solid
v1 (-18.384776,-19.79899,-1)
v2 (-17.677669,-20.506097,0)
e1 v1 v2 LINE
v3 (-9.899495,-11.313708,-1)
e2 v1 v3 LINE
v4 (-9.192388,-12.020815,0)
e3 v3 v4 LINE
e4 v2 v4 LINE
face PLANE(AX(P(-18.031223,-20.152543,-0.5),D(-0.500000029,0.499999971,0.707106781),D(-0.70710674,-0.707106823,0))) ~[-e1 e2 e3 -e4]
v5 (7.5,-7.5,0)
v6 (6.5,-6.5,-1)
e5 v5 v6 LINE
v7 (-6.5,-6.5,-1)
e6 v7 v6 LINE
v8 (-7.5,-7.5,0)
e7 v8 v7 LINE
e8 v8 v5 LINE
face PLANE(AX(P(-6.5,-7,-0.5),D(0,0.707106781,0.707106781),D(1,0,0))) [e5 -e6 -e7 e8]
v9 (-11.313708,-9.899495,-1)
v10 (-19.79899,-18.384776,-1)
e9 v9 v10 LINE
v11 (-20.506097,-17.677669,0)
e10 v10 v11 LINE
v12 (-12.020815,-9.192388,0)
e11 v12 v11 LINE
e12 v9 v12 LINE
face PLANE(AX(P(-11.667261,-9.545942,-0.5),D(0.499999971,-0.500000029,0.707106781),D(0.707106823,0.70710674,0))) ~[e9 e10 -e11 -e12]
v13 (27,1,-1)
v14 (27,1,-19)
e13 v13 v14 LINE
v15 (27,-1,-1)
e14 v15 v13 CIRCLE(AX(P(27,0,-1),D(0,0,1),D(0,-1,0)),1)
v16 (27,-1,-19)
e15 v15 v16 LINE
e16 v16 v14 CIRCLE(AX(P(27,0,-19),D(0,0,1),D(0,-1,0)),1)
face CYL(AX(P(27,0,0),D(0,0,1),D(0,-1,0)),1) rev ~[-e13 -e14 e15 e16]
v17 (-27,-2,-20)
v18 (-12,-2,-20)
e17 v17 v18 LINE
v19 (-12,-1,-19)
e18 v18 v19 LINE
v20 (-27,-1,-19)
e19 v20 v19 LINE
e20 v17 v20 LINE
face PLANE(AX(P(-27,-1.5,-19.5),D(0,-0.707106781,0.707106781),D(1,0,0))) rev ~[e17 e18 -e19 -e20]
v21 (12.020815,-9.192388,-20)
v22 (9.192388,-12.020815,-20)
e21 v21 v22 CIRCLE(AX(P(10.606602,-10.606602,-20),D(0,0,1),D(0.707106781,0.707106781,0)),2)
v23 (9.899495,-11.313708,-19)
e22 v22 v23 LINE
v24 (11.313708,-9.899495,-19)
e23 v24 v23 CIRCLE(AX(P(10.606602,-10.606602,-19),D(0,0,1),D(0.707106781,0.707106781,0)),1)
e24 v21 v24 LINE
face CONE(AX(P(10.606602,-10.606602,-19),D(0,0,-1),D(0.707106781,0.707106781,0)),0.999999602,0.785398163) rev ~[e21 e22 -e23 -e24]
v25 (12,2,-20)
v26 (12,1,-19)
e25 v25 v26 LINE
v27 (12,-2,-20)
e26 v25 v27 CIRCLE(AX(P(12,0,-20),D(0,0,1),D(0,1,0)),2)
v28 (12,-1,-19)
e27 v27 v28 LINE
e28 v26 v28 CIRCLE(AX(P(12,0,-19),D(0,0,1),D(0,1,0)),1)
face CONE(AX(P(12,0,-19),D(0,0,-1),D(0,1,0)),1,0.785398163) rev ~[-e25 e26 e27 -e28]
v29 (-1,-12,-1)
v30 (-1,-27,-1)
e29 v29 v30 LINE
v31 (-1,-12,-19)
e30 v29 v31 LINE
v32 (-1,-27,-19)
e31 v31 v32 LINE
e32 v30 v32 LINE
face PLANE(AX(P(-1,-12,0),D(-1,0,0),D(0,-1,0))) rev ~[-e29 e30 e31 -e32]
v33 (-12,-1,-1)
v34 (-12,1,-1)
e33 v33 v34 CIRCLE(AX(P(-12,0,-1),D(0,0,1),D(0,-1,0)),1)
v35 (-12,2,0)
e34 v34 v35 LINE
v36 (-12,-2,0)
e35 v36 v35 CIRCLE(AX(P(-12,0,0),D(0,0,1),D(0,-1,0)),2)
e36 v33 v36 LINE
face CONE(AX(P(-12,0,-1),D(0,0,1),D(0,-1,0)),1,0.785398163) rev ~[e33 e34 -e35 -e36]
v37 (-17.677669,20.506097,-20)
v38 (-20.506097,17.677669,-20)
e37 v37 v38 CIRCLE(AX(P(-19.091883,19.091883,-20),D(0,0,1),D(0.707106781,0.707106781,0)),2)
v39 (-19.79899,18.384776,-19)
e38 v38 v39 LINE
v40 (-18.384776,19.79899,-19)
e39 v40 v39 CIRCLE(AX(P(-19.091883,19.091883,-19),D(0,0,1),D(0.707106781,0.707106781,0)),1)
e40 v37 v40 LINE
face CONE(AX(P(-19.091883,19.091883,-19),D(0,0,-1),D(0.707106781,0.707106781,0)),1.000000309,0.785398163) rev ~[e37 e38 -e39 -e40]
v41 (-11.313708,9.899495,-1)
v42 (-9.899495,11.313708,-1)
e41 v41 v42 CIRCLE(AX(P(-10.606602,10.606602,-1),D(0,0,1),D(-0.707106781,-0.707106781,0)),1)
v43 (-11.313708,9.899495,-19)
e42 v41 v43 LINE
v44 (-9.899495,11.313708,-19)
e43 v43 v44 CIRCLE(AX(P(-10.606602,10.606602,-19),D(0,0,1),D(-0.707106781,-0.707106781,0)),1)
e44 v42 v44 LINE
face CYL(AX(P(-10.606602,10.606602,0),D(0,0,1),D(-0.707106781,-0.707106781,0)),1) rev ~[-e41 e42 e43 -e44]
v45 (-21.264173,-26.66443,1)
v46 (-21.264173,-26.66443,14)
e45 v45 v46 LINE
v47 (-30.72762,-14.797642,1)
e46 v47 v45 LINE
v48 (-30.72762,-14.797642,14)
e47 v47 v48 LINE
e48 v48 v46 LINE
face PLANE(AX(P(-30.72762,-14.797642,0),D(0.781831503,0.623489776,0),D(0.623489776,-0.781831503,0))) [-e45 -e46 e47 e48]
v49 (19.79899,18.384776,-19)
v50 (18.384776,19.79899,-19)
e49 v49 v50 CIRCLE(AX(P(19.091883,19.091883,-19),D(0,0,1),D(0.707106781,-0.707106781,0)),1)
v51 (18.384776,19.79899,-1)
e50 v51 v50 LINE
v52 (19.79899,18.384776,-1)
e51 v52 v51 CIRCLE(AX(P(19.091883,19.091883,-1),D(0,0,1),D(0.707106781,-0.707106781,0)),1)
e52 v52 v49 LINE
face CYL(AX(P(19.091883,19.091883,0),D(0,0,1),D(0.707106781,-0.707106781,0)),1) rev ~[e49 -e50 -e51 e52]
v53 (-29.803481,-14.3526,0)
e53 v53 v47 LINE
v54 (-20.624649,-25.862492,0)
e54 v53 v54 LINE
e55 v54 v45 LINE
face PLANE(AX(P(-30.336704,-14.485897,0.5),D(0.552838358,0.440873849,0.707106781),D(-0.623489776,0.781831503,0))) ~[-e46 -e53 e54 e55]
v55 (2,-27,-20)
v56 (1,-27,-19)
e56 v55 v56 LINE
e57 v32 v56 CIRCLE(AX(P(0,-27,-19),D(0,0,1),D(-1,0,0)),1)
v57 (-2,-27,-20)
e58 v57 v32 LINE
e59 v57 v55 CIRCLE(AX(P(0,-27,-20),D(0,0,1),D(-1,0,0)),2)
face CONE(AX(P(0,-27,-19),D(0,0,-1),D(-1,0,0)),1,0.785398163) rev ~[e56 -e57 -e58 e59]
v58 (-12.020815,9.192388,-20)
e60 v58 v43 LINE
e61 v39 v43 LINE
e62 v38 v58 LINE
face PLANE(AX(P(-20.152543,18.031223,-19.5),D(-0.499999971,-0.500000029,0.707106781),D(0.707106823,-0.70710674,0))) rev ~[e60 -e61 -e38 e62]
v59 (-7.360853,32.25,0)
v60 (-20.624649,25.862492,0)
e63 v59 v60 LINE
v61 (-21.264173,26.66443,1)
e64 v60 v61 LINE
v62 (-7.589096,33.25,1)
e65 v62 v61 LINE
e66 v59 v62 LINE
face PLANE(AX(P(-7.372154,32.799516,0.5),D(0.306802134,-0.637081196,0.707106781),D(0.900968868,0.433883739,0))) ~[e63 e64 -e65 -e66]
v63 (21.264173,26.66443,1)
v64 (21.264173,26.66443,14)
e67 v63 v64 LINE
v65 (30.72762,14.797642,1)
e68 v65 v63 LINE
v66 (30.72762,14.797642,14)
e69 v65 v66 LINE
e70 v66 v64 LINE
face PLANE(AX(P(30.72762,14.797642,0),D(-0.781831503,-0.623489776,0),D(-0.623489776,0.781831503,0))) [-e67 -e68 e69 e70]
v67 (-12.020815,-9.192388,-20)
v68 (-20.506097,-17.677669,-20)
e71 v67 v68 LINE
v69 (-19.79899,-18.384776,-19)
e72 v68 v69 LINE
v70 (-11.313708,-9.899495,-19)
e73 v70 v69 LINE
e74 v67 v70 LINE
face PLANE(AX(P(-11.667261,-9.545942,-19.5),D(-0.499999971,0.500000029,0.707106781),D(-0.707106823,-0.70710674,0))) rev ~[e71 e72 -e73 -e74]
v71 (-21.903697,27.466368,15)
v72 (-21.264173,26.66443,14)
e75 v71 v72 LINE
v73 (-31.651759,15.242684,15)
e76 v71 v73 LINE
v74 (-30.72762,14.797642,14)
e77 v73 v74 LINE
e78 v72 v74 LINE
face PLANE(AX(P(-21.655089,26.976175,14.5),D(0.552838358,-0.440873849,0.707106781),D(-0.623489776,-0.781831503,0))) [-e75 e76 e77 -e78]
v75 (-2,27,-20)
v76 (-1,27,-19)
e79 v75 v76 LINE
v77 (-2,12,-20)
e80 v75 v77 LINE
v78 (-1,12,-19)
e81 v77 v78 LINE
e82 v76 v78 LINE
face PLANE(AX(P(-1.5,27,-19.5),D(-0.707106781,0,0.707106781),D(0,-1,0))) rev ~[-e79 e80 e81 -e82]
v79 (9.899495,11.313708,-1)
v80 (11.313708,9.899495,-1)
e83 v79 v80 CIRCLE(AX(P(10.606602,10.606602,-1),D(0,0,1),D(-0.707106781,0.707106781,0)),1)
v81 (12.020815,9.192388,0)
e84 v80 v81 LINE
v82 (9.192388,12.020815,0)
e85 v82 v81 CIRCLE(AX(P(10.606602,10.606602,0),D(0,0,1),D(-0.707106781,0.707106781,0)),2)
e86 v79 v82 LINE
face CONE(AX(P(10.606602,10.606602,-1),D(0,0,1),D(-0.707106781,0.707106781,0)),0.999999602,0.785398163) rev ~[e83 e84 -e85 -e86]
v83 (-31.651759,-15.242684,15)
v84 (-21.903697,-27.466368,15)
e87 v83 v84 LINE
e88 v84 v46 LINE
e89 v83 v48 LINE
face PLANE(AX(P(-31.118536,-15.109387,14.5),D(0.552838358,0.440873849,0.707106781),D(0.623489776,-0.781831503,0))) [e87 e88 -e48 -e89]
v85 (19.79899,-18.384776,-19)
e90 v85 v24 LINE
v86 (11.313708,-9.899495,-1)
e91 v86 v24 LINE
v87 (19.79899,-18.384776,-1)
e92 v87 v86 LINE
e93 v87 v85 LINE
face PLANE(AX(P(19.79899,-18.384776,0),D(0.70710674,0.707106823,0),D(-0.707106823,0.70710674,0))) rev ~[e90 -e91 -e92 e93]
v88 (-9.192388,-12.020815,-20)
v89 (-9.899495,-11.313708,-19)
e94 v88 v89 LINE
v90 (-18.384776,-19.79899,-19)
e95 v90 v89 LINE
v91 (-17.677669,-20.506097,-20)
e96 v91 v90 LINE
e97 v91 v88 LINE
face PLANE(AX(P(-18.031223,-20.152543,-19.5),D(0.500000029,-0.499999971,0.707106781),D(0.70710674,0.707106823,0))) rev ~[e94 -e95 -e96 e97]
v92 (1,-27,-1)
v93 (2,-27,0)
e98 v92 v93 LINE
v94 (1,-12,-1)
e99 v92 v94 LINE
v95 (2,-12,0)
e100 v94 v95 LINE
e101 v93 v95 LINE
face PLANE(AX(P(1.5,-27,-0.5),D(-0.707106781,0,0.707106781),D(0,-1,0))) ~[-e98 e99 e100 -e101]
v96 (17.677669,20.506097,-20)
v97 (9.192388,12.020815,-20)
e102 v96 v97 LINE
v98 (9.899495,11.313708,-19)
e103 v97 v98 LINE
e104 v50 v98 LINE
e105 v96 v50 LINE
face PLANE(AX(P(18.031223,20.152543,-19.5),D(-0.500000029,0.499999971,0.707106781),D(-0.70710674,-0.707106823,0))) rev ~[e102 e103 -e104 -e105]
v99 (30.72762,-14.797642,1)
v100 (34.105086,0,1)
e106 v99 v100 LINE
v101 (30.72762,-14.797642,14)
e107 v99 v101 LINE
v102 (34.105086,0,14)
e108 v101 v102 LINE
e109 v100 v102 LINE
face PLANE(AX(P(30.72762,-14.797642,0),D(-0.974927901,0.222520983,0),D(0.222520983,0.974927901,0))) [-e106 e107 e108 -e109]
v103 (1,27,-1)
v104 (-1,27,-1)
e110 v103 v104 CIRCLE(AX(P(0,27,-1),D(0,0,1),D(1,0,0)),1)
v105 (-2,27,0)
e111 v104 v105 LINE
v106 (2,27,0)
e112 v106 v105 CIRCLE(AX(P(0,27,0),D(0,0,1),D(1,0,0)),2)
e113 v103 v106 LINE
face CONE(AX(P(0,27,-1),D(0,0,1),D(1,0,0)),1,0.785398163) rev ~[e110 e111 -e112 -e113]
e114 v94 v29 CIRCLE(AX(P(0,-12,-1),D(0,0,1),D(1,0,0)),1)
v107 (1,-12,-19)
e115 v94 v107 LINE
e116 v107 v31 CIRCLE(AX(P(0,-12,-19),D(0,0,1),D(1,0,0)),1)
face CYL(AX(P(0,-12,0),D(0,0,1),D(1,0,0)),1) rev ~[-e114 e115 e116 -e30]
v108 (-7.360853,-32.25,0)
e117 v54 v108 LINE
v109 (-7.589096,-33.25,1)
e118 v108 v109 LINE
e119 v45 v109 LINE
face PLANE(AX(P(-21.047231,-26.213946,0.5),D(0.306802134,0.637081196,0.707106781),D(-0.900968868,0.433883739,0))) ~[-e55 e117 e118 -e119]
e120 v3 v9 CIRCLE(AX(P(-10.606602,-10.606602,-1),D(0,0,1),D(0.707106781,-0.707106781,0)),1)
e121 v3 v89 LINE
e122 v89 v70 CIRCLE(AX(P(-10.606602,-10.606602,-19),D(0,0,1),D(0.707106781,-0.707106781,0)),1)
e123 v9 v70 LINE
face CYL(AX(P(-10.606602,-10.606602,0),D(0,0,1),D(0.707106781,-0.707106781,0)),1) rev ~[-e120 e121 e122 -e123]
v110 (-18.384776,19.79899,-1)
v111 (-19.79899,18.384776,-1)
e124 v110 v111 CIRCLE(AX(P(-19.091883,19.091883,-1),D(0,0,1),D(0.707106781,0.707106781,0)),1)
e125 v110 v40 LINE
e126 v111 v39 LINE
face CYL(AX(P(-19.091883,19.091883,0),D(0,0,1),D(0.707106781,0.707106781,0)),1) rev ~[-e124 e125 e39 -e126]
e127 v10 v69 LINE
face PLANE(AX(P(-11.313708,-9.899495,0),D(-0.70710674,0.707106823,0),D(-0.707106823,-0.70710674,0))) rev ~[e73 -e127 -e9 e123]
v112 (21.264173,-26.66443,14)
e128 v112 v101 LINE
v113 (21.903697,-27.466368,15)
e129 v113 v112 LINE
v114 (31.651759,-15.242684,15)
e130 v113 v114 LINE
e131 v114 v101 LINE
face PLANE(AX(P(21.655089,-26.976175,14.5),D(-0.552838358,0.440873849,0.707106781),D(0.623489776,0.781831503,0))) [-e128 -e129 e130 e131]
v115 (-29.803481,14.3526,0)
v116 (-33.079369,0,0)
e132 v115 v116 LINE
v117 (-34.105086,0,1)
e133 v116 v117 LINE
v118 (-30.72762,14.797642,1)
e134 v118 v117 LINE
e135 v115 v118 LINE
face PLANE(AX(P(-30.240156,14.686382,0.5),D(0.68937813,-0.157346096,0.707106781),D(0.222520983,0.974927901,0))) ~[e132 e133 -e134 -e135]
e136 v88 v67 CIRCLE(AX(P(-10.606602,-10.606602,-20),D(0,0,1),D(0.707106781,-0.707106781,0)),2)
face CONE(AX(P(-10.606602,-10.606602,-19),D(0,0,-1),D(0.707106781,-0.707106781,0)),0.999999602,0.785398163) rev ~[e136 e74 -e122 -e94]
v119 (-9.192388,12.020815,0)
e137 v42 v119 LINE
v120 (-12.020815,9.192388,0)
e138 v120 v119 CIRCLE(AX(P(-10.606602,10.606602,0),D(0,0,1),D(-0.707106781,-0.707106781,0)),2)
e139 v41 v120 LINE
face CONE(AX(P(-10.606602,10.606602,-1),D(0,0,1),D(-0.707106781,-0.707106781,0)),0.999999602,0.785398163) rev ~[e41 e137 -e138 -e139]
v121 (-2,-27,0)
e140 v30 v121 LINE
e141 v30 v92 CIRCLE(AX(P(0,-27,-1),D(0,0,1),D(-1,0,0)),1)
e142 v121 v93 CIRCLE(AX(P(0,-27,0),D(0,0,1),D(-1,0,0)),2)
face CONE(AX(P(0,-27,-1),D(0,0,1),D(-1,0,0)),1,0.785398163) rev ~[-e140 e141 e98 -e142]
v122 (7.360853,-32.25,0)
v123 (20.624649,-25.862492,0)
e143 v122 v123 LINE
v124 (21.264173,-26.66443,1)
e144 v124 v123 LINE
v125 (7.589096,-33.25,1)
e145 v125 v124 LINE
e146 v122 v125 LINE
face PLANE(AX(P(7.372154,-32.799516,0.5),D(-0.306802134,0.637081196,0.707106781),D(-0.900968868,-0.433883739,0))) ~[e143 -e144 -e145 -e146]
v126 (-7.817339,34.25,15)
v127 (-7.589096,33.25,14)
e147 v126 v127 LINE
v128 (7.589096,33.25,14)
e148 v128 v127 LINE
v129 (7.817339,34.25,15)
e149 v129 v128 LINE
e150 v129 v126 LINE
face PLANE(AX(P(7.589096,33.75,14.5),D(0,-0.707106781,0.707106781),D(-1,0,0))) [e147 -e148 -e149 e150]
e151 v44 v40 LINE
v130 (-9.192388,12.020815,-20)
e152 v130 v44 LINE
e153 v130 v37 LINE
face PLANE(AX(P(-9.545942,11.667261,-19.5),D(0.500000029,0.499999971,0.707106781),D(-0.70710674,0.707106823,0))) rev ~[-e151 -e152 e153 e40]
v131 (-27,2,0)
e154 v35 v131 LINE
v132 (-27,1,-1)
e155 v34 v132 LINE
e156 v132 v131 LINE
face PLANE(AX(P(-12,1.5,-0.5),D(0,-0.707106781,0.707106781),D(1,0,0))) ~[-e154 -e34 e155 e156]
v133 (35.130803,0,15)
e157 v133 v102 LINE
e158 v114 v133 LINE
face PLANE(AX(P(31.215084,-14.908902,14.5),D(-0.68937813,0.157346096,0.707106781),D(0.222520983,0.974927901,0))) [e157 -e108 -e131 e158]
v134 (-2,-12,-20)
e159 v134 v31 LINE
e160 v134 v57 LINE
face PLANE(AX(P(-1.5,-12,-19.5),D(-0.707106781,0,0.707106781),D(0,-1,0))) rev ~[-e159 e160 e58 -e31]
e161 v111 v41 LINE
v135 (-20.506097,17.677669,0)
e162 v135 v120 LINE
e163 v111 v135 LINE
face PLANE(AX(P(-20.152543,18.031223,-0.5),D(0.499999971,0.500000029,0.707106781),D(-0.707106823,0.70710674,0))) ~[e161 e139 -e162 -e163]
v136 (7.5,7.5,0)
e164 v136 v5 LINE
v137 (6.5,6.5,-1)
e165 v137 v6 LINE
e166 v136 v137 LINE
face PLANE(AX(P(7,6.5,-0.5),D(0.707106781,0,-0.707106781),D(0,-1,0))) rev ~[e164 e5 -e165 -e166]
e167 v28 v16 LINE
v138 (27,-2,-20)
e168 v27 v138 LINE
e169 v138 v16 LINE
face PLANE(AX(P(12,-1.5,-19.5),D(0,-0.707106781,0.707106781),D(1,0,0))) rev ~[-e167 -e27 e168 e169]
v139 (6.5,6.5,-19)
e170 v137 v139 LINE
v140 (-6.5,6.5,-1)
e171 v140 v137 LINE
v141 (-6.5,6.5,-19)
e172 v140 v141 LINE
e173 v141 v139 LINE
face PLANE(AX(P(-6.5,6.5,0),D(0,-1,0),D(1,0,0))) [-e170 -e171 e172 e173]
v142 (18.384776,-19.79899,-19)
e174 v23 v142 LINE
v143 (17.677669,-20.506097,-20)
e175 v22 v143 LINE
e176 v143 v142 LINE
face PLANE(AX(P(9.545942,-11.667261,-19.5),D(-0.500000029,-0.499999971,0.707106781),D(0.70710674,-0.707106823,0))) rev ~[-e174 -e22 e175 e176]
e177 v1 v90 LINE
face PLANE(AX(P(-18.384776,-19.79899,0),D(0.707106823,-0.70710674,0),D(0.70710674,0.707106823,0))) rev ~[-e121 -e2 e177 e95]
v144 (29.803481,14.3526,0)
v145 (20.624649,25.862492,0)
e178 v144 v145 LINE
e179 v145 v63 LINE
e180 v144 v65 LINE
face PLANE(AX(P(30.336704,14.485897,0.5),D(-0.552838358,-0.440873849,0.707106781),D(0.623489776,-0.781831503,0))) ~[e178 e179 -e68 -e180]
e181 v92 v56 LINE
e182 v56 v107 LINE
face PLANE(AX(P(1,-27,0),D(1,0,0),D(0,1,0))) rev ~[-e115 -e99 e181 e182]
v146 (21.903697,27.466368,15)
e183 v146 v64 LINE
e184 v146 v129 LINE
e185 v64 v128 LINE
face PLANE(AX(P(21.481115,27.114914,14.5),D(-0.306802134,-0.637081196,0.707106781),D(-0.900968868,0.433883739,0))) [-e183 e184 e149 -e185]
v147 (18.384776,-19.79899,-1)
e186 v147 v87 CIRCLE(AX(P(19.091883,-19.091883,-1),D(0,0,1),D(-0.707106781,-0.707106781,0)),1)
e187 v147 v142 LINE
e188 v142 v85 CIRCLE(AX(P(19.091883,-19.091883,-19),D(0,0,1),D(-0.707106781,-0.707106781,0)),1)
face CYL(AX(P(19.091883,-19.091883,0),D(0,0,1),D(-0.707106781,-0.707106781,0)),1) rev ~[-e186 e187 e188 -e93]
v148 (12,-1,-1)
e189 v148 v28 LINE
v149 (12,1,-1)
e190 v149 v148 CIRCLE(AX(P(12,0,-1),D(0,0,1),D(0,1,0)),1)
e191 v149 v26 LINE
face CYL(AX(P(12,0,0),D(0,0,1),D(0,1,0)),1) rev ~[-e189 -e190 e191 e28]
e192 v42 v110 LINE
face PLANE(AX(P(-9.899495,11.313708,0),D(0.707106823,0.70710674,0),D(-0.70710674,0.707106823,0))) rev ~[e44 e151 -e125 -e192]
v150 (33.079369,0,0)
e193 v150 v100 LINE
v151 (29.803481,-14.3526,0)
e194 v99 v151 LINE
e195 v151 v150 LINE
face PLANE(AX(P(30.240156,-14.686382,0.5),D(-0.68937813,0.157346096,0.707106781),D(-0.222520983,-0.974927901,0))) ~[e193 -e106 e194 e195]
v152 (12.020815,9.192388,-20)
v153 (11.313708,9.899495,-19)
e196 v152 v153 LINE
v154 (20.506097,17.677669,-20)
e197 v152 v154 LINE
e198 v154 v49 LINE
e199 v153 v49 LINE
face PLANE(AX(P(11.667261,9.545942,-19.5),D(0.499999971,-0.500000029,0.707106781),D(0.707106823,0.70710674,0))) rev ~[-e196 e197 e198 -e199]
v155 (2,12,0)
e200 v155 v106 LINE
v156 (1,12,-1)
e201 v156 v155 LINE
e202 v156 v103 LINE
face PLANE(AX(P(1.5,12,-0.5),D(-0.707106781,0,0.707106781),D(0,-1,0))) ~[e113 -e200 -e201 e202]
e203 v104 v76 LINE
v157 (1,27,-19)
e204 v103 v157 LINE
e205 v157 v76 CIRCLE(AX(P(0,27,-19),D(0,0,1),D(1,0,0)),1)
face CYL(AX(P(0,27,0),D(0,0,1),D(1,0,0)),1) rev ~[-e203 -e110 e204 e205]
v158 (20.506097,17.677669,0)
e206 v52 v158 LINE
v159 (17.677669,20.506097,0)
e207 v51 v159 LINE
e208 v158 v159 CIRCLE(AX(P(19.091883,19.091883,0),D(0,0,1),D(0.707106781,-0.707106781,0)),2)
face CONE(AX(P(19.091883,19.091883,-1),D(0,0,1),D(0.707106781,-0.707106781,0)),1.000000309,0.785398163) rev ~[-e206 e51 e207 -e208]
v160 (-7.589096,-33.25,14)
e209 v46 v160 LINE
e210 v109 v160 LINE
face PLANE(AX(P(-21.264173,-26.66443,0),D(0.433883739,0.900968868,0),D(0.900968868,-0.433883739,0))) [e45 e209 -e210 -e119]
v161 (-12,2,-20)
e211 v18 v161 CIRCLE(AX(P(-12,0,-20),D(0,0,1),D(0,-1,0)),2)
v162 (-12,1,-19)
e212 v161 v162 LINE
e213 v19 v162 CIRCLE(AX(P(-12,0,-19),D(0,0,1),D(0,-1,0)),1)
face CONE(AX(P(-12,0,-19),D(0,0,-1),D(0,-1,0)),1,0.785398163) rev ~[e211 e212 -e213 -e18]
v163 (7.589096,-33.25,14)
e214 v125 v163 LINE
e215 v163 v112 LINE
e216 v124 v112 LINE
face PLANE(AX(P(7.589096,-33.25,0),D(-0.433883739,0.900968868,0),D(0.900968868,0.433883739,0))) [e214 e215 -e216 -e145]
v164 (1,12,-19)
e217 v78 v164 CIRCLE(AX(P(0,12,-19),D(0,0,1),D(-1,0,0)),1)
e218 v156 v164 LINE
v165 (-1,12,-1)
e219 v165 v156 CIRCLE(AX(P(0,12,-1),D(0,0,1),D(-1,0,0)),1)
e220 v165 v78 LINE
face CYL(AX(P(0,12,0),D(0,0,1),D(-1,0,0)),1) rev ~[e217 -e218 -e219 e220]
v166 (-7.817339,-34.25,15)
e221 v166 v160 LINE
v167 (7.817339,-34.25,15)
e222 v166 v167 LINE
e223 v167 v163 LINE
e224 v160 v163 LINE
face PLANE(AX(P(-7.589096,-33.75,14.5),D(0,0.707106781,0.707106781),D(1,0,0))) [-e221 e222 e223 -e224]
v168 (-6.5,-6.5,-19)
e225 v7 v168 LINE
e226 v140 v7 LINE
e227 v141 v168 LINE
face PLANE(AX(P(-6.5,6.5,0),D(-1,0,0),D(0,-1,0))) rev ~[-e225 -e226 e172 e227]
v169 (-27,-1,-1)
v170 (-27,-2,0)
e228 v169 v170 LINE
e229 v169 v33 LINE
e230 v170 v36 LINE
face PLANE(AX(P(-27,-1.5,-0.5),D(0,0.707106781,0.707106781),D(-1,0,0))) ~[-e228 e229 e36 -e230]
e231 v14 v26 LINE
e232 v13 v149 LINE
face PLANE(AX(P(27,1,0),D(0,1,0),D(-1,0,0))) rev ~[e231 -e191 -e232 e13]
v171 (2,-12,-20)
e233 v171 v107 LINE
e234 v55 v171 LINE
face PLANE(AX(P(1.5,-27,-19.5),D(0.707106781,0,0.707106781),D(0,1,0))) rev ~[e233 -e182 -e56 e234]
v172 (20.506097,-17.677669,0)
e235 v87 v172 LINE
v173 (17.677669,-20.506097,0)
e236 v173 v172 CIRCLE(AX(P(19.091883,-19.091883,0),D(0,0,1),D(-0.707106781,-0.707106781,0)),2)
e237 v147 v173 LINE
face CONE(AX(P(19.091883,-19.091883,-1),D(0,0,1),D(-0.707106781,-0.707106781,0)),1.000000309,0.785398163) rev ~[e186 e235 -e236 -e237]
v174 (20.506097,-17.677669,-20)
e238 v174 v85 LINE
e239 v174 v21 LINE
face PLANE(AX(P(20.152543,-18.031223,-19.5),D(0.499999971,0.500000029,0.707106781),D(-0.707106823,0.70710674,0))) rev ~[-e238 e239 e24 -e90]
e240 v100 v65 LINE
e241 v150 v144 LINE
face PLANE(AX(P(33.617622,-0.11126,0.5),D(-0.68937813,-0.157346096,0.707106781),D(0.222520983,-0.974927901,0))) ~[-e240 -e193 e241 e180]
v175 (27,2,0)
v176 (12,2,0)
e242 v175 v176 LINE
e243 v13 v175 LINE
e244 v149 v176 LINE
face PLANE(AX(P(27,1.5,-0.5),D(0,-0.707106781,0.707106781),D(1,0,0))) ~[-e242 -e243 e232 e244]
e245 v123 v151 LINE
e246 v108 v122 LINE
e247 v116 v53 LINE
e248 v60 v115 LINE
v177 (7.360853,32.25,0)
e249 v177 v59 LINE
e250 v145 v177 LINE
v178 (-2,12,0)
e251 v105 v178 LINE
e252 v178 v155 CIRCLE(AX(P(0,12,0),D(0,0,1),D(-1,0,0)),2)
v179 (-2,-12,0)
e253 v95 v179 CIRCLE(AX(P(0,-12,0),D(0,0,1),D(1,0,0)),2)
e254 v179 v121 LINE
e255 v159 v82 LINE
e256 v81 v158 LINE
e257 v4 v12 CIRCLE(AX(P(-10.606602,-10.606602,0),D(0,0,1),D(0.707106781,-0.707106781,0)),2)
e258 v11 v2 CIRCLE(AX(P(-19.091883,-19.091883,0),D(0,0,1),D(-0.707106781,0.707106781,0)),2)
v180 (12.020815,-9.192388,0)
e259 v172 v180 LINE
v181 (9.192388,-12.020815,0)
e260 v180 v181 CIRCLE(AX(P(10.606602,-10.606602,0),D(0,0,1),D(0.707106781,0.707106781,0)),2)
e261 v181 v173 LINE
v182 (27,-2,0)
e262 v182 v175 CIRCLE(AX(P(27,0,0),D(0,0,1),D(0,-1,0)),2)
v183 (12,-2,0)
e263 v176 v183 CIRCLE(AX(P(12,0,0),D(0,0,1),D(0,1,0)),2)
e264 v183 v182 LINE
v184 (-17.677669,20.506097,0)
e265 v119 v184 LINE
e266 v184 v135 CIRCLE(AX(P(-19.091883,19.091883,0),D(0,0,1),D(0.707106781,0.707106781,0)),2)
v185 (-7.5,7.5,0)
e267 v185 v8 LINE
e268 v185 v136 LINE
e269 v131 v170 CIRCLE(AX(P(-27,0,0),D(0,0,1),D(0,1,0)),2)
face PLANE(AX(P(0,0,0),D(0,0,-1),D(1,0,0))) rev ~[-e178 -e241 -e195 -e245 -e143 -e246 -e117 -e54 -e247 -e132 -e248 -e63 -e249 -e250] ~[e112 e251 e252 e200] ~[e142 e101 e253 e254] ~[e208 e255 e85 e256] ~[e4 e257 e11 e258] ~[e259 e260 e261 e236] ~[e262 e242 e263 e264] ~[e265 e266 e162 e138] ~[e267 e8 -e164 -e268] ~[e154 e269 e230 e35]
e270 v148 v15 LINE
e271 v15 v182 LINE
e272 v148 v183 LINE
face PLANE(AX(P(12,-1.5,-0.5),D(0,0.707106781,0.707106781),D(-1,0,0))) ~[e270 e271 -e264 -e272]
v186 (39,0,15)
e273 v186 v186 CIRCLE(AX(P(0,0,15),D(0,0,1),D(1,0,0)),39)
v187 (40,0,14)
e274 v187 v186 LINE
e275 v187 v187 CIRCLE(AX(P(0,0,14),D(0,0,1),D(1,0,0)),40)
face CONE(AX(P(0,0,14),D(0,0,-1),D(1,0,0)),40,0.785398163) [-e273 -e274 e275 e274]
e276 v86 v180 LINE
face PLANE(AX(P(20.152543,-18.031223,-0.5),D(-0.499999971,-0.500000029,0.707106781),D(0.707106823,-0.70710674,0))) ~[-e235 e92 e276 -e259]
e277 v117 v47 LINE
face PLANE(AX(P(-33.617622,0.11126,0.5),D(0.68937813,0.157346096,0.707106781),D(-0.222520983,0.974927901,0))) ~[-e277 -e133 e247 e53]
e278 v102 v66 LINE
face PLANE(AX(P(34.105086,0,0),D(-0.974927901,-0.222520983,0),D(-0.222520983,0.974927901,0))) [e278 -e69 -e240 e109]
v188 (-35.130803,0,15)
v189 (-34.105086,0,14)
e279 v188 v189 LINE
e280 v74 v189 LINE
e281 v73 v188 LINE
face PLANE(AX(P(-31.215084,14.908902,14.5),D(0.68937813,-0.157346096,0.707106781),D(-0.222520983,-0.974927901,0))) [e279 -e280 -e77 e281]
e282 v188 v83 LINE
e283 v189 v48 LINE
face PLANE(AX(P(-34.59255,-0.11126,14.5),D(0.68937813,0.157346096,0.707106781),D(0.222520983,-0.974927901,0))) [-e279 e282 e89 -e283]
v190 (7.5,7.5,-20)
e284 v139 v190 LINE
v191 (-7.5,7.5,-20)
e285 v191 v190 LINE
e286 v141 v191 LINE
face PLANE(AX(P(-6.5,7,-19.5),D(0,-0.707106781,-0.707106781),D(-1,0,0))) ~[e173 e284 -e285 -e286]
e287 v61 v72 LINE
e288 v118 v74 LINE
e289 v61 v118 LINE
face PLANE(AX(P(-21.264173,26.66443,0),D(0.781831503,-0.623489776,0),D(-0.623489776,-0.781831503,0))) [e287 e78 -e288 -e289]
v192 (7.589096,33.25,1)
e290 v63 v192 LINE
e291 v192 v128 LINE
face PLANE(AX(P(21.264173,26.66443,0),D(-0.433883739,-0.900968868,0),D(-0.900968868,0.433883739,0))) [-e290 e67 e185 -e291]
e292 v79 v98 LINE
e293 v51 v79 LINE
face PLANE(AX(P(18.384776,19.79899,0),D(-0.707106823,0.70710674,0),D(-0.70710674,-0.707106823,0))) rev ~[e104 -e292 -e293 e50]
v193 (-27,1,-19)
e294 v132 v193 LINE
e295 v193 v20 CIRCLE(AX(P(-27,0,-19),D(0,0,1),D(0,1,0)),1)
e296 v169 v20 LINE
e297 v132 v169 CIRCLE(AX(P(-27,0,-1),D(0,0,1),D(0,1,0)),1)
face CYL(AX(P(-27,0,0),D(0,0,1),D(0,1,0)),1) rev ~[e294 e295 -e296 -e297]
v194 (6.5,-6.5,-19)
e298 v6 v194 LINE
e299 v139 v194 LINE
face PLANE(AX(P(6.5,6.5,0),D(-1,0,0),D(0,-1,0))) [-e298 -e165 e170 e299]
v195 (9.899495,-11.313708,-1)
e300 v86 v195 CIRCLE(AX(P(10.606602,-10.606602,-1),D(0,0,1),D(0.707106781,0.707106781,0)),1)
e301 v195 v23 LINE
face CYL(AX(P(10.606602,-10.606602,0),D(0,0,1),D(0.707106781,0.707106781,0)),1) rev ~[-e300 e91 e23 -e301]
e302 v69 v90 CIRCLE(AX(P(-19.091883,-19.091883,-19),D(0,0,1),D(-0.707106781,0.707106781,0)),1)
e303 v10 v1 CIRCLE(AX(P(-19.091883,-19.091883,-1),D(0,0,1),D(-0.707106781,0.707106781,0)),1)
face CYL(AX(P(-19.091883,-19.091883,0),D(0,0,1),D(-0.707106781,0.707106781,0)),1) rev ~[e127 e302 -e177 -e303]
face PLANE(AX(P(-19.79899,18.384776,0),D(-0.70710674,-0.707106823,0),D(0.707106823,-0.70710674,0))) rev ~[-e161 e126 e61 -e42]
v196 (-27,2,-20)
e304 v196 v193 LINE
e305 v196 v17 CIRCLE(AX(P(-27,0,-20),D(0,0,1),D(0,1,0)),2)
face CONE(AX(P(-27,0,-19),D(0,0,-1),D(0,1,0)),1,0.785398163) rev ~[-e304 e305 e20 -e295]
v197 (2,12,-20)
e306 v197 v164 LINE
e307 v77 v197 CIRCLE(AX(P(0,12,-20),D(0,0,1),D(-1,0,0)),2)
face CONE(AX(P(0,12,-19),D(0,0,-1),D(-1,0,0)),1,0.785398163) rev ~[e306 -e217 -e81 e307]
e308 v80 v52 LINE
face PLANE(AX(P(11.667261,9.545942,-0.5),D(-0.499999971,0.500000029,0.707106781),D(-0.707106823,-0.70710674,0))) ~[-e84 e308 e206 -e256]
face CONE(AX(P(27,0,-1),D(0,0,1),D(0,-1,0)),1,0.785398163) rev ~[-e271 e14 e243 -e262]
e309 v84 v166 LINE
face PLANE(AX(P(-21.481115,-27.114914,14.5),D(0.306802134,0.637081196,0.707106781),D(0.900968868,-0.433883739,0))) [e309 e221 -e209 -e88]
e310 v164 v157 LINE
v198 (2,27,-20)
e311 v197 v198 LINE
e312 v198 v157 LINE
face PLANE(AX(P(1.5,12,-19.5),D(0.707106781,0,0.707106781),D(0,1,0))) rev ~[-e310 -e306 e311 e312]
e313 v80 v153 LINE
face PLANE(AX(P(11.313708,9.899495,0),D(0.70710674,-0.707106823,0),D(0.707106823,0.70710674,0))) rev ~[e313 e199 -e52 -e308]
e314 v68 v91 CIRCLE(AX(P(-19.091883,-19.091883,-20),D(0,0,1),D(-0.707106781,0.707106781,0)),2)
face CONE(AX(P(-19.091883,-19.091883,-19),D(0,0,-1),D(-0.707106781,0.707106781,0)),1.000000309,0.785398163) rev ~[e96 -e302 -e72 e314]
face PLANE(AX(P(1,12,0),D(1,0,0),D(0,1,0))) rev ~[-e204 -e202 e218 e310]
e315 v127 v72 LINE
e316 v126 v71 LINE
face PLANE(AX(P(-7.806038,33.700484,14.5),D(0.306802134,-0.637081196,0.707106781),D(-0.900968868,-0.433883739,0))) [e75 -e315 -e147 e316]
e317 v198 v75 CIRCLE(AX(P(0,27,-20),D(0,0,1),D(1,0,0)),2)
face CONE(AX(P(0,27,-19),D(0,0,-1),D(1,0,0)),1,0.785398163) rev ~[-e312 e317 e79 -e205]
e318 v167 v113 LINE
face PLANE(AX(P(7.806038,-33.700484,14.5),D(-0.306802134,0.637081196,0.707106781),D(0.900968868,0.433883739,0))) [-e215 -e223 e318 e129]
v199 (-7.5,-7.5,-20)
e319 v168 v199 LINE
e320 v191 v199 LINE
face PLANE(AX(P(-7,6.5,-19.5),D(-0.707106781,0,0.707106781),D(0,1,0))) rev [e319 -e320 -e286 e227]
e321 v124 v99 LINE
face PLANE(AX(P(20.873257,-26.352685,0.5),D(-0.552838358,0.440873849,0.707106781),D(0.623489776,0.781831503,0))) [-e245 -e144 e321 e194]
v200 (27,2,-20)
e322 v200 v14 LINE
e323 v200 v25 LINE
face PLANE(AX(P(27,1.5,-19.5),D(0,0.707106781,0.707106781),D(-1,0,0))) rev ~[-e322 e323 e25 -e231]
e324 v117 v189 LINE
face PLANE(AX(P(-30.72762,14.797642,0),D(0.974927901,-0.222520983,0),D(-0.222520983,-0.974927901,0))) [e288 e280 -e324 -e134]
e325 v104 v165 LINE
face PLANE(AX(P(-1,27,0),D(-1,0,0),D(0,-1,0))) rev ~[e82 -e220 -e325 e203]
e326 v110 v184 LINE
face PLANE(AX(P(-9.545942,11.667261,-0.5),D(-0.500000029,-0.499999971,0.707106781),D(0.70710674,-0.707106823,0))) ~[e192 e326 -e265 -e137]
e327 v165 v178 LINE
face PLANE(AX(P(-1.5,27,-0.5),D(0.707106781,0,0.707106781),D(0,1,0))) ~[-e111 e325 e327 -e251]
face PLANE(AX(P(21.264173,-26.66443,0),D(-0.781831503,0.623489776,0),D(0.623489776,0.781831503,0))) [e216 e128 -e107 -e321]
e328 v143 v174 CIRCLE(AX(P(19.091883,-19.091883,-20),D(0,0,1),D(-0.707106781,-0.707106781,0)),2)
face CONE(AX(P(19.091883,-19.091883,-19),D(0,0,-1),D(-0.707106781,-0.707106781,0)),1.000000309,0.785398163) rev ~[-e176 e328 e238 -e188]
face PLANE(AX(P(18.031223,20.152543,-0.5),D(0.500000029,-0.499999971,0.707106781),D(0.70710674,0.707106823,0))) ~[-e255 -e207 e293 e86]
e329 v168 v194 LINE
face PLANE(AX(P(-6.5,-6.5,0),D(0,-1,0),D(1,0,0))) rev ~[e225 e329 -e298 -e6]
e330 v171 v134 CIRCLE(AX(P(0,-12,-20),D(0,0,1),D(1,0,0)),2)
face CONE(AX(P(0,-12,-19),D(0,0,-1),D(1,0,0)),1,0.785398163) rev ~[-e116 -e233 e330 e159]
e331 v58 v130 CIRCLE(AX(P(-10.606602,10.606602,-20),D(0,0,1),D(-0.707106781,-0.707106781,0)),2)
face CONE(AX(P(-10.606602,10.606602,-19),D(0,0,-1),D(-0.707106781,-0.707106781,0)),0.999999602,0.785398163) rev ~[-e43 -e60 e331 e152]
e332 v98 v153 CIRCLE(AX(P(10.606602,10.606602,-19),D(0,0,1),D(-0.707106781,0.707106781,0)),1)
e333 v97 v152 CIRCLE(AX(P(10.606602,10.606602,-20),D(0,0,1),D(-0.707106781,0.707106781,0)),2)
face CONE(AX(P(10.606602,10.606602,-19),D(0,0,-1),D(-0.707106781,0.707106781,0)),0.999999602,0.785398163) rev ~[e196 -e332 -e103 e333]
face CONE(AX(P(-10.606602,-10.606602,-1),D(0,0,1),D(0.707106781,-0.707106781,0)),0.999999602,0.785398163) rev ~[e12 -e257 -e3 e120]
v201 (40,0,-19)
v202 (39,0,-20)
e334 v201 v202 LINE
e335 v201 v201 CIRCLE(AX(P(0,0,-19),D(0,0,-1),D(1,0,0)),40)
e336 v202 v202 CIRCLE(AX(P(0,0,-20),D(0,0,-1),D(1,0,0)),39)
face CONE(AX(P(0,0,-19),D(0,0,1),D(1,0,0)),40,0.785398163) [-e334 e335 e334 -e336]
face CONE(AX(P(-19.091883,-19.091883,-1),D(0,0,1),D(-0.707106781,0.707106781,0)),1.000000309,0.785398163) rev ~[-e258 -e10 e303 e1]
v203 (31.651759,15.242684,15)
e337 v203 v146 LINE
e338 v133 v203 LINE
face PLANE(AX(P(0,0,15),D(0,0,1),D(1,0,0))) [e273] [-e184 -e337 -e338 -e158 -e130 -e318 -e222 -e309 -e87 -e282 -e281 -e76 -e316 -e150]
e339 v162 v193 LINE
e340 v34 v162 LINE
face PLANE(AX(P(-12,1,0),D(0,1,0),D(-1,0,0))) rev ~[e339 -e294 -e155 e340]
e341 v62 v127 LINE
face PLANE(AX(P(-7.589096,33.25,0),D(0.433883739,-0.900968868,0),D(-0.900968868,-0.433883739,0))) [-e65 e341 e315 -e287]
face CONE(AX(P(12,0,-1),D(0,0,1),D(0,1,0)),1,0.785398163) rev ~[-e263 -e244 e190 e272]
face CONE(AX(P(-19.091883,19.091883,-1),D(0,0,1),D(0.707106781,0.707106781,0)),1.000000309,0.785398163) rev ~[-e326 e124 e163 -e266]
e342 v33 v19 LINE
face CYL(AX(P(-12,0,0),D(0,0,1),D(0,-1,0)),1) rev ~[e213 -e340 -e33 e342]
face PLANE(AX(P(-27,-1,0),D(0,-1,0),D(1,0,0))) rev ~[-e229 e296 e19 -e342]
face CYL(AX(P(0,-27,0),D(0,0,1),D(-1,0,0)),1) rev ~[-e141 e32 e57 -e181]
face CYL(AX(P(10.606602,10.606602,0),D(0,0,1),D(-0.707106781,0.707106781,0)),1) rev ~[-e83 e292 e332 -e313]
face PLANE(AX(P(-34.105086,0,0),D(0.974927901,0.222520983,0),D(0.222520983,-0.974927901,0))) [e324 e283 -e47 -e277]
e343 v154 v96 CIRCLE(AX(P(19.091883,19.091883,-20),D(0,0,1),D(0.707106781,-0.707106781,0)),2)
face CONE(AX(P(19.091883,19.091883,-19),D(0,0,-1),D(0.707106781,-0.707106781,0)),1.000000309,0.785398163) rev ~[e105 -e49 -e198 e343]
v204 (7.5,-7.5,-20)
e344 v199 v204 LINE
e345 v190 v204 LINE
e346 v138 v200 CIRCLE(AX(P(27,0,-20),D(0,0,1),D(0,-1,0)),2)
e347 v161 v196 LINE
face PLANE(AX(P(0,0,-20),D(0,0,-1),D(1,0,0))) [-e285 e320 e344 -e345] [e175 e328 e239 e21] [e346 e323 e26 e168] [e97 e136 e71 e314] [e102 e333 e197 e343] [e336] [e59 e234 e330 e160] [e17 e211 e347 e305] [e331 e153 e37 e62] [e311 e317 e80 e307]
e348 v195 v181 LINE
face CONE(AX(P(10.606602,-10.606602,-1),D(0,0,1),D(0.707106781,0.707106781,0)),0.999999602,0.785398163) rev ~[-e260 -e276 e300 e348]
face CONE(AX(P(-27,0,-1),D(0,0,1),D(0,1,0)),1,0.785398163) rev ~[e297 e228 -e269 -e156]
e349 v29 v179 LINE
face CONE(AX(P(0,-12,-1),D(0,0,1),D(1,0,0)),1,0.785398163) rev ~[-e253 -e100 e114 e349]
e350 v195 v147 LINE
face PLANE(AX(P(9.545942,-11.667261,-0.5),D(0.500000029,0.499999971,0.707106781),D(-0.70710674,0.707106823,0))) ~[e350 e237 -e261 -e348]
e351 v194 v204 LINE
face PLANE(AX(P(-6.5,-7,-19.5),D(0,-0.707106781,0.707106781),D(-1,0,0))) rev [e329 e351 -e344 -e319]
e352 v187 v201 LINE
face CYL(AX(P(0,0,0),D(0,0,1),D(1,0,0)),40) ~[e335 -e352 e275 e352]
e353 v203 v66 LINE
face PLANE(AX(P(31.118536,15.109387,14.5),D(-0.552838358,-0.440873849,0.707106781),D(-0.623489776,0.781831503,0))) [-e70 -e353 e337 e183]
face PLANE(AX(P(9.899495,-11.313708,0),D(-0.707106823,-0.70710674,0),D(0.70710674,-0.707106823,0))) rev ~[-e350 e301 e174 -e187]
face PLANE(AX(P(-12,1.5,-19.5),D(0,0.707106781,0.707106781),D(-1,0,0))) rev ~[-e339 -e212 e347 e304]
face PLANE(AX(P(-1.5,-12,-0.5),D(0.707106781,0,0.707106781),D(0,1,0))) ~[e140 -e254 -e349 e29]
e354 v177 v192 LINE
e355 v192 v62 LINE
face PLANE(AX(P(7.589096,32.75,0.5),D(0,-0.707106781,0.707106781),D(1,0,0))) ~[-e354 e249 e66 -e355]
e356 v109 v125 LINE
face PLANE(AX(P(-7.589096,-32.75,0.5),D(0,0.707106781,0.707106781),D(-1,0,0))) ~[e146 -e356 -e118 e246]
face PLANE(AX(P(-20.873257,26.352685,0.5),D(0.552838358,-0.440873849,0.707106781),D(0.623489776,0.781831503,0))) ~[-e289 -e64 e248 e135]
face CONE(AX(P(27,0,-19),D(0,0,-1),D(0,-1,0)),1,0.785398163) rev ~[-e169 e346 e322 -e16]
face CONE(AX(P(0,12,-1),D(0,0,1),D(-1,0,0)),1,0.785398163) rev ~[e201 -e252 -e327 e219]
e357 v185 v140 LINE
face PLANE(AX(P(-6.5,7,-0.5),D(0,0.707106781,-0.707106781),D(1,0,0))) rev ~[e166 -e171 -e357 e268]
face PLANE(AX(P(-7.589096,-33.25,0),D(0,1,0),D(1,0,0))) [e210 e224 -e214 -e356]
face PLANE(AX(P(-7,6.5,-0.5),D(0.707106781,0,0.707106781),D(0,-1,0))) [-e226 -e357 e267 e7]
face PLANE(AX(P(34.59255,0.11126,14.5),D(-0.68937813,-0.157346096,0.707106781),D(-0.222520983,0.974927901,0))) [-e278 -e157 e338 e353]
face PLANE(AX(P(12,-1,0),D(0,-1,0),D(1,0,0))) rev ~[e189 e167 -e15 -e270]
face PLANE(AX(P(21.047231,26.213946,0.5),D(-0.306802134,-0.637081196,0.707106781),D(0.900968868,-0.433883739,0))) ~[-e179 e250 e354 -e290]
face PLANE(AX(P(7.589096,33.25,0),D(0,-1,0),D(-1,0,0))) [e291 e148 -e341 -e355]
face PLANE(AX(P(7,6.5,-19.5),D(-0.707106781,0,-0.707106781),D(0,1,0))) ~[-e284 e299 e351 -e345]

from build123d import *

# Parameters (mm, degrees)
SKETCH_R              = 40
PAD_DEPTH             = 15
SKETCH001_R           = 40
SKETCH001_W           = 13
SKETCH001_H           = 13
PAD001_DEPTH          = 20
CHAMFER_SIZE          = 1
POCKET_DEPTH          = 256.855386
POLARPATTERN_COUNT    = 4
POCKET001_DEPTH       = 256.855386
POLARPATTERN001_COUNT = 4
CHAMFER001_SIZE       = 1


with BuildPart() as part:
    # Sketch → Pad (new body)
    with BuildSketch(Plane.XY):
        Circle(SKETCH_R)
        Polygon((30.72762, -14.797642), (34.105086, 0), (30.72762, 14.797642), (21.264173, 26.66443), (7.589096, 33.25), (-7.589096, 33.25), (-21.264173, 26.66443), (-30.72762, 14.797642), (-34.105086, 0), (-30.72762, -14.797642), (-21.264173, -26.66443), (-7.589096, -33.25), (7.589096, -33.25), (21.264173, -26.66443), align=None, mode=Mode.SUBTRACT)
    extrude(amount=PAD_DEPTH)

    # Sketch001 (on Face16 of Pad) → Pad001 (join)
    with BuildSketch(Plane(origin=(0, 0, 0), x_dir=(1, 0, 0), z_dir=(0, 0, -1))):
        Circle(SKETCH001_R)
        Rectangle(SKETCH001_W, SKETCH001_H, mode=Mode.SUBTRACT)
    extrude(amount=PAD001_DEPTH)

    # Chamfer
    chamfer_edges = [part.edges().sort_by_distance(p)[0] for p in [
        (-40, 0, 15),
        (-40, 0, -20),
        (0, -6.5, -20),
        (6.5, 0, -20),
        (0, 6.5, -20),
        (-6.5, 0, -20),
        (32.416353, -7.398821, 15),
        (32.416353, 7.398821, 15),
        (25.995897, 20.731036, 15),
        (14.426634, 29.957215, 15),
        (0, 33.25, 15),
        (-14.426634, 29.957215, 15),
        (-25.995897, 20.731036, 15),
        (-32.416353, 7.398821, 15),
        (-32.416353, -7.398821, 15),
        (-25.995897, -20.731036, 15),
        (-14.426634, -29.957215, 15),
        (0, -33.25, 15),
        (14.426634, -29.957215, 15),
        (25.995897, -20.731036, 15),
        (25.995897, -20.731036, 0),
        (14.426634, -29.957215, 0),
        (0, -33.25, 0),
        (-14.426634, -29.957215, 0),
        (-25.995897, -20.731036, 0),
        (-32.416353, -7.398821, 0),
        (-32.416353, 7.398821, 0),
        (-25.995897, 20.731036, 0),
        (-14.426634, 29.957215, 0),
        (0, 33.25, 0),
        (14.426634, 29.957215, 0),
        (25.995897, 20.731036, 0),
        (32.416353, 7.398821, 0),
        (32.416353, -7.398821, 0),
        (0, -6.5, 0),
        (-6.5, 0, 0),
        (6.5, 0, 0),
        (0, 6.5, 0),
    ]]
    chamfer(chamfer_edges, length=CHAMFER_SIZE)

    # Sketch002 (on Face57 of Chamfer) → Pocket (cut, through all)
    with BuildSketch(Plane.XY):
        with BuildLine():
            ThreePointArc((-1, 12), (0, 11), (1, 12))
            Line((1, 12), (1, 27))
            ThreePointArc((1, 27), (0, 28), (-1, 27))
            Line((-1, 27), (-1, 12))
        make_face()
    pocket = extrude(amount=-POCKET_DEPTH, mode=Mode.SUBTRACT)

    # PolarPattern: Pocket ×4 about axis
    polarpattern_axis = Axis((0, 0, 0), (0, 0, 1))
    for i in range(1, POLARPATTERN_COUNT):
        add(pocket.rotate(polarpattern_axis, i * 360 / POLARPATTERN_COUNT), mode=Mode.SUBTRACT)

    # Sketch003 (on Face69 of PolarPattern) → Pocket001 (cut, through all)
    with BuildSketch(Plane.XY):
        with BuildLine():
            ThreePointArc((-11.313708, 9.899495), (-9.899495, 9.899495), (-9.899495, 11.313708))
            Line((-9.899495, 11.313708), (-18.384776, 19.79899))
            ThreePointArc((-18.384776, 19.79899), (-19.79899, 19.79899), (-19.79899, 18.384776))
            Line((-19.79899, 18.384776), (-11.313708, 9.899495))
        make_face()
    pocket001 = extrude(amount=-POCKET001_DEPTH, mode=Mode.SUBTRACT)

    # PolarPattern001: Pocket001 ×4 about axis
    polarpattern001_axis = Axis((0, 0, 0), (0, 0, 1))
    for i in range(1, POLARPATTERN001_COUNT):
        add(pocket001.rotate(polarpattern001_axis, i * 360 / POLARPATTERN001_COUNT), mode=Mode.SUBTRACT)

    # Chamfer001
    chamfer001_edges = [part.edges().sort_by_distance(p)[0] for p in [
        (-19.79899, 19.79899, 0),
        (-28, 0, 0),
        (-19.79899, -19.79899, 0),
        (0, -28, 0),
        (19.79899, -19.79899, 0),
        (28, 0, 0),
        (19.79899, 19.79899, 0),
        (0, 28, 0),
        (0, -28, -20),
        (-19.79899, -19.79899, -20),
        (-28, 0, -20),
        (-19.79899, 19.79899, -20),
        (0, 28, -20),
        (19.79899, 19.79899, -20),
        (28, 0, -20),
        (19.79899, -19.79899, -20),
    ]]
    chamfer(chamfer001_edges, length=CHAMFER001_SIZE)


solid = part.part
